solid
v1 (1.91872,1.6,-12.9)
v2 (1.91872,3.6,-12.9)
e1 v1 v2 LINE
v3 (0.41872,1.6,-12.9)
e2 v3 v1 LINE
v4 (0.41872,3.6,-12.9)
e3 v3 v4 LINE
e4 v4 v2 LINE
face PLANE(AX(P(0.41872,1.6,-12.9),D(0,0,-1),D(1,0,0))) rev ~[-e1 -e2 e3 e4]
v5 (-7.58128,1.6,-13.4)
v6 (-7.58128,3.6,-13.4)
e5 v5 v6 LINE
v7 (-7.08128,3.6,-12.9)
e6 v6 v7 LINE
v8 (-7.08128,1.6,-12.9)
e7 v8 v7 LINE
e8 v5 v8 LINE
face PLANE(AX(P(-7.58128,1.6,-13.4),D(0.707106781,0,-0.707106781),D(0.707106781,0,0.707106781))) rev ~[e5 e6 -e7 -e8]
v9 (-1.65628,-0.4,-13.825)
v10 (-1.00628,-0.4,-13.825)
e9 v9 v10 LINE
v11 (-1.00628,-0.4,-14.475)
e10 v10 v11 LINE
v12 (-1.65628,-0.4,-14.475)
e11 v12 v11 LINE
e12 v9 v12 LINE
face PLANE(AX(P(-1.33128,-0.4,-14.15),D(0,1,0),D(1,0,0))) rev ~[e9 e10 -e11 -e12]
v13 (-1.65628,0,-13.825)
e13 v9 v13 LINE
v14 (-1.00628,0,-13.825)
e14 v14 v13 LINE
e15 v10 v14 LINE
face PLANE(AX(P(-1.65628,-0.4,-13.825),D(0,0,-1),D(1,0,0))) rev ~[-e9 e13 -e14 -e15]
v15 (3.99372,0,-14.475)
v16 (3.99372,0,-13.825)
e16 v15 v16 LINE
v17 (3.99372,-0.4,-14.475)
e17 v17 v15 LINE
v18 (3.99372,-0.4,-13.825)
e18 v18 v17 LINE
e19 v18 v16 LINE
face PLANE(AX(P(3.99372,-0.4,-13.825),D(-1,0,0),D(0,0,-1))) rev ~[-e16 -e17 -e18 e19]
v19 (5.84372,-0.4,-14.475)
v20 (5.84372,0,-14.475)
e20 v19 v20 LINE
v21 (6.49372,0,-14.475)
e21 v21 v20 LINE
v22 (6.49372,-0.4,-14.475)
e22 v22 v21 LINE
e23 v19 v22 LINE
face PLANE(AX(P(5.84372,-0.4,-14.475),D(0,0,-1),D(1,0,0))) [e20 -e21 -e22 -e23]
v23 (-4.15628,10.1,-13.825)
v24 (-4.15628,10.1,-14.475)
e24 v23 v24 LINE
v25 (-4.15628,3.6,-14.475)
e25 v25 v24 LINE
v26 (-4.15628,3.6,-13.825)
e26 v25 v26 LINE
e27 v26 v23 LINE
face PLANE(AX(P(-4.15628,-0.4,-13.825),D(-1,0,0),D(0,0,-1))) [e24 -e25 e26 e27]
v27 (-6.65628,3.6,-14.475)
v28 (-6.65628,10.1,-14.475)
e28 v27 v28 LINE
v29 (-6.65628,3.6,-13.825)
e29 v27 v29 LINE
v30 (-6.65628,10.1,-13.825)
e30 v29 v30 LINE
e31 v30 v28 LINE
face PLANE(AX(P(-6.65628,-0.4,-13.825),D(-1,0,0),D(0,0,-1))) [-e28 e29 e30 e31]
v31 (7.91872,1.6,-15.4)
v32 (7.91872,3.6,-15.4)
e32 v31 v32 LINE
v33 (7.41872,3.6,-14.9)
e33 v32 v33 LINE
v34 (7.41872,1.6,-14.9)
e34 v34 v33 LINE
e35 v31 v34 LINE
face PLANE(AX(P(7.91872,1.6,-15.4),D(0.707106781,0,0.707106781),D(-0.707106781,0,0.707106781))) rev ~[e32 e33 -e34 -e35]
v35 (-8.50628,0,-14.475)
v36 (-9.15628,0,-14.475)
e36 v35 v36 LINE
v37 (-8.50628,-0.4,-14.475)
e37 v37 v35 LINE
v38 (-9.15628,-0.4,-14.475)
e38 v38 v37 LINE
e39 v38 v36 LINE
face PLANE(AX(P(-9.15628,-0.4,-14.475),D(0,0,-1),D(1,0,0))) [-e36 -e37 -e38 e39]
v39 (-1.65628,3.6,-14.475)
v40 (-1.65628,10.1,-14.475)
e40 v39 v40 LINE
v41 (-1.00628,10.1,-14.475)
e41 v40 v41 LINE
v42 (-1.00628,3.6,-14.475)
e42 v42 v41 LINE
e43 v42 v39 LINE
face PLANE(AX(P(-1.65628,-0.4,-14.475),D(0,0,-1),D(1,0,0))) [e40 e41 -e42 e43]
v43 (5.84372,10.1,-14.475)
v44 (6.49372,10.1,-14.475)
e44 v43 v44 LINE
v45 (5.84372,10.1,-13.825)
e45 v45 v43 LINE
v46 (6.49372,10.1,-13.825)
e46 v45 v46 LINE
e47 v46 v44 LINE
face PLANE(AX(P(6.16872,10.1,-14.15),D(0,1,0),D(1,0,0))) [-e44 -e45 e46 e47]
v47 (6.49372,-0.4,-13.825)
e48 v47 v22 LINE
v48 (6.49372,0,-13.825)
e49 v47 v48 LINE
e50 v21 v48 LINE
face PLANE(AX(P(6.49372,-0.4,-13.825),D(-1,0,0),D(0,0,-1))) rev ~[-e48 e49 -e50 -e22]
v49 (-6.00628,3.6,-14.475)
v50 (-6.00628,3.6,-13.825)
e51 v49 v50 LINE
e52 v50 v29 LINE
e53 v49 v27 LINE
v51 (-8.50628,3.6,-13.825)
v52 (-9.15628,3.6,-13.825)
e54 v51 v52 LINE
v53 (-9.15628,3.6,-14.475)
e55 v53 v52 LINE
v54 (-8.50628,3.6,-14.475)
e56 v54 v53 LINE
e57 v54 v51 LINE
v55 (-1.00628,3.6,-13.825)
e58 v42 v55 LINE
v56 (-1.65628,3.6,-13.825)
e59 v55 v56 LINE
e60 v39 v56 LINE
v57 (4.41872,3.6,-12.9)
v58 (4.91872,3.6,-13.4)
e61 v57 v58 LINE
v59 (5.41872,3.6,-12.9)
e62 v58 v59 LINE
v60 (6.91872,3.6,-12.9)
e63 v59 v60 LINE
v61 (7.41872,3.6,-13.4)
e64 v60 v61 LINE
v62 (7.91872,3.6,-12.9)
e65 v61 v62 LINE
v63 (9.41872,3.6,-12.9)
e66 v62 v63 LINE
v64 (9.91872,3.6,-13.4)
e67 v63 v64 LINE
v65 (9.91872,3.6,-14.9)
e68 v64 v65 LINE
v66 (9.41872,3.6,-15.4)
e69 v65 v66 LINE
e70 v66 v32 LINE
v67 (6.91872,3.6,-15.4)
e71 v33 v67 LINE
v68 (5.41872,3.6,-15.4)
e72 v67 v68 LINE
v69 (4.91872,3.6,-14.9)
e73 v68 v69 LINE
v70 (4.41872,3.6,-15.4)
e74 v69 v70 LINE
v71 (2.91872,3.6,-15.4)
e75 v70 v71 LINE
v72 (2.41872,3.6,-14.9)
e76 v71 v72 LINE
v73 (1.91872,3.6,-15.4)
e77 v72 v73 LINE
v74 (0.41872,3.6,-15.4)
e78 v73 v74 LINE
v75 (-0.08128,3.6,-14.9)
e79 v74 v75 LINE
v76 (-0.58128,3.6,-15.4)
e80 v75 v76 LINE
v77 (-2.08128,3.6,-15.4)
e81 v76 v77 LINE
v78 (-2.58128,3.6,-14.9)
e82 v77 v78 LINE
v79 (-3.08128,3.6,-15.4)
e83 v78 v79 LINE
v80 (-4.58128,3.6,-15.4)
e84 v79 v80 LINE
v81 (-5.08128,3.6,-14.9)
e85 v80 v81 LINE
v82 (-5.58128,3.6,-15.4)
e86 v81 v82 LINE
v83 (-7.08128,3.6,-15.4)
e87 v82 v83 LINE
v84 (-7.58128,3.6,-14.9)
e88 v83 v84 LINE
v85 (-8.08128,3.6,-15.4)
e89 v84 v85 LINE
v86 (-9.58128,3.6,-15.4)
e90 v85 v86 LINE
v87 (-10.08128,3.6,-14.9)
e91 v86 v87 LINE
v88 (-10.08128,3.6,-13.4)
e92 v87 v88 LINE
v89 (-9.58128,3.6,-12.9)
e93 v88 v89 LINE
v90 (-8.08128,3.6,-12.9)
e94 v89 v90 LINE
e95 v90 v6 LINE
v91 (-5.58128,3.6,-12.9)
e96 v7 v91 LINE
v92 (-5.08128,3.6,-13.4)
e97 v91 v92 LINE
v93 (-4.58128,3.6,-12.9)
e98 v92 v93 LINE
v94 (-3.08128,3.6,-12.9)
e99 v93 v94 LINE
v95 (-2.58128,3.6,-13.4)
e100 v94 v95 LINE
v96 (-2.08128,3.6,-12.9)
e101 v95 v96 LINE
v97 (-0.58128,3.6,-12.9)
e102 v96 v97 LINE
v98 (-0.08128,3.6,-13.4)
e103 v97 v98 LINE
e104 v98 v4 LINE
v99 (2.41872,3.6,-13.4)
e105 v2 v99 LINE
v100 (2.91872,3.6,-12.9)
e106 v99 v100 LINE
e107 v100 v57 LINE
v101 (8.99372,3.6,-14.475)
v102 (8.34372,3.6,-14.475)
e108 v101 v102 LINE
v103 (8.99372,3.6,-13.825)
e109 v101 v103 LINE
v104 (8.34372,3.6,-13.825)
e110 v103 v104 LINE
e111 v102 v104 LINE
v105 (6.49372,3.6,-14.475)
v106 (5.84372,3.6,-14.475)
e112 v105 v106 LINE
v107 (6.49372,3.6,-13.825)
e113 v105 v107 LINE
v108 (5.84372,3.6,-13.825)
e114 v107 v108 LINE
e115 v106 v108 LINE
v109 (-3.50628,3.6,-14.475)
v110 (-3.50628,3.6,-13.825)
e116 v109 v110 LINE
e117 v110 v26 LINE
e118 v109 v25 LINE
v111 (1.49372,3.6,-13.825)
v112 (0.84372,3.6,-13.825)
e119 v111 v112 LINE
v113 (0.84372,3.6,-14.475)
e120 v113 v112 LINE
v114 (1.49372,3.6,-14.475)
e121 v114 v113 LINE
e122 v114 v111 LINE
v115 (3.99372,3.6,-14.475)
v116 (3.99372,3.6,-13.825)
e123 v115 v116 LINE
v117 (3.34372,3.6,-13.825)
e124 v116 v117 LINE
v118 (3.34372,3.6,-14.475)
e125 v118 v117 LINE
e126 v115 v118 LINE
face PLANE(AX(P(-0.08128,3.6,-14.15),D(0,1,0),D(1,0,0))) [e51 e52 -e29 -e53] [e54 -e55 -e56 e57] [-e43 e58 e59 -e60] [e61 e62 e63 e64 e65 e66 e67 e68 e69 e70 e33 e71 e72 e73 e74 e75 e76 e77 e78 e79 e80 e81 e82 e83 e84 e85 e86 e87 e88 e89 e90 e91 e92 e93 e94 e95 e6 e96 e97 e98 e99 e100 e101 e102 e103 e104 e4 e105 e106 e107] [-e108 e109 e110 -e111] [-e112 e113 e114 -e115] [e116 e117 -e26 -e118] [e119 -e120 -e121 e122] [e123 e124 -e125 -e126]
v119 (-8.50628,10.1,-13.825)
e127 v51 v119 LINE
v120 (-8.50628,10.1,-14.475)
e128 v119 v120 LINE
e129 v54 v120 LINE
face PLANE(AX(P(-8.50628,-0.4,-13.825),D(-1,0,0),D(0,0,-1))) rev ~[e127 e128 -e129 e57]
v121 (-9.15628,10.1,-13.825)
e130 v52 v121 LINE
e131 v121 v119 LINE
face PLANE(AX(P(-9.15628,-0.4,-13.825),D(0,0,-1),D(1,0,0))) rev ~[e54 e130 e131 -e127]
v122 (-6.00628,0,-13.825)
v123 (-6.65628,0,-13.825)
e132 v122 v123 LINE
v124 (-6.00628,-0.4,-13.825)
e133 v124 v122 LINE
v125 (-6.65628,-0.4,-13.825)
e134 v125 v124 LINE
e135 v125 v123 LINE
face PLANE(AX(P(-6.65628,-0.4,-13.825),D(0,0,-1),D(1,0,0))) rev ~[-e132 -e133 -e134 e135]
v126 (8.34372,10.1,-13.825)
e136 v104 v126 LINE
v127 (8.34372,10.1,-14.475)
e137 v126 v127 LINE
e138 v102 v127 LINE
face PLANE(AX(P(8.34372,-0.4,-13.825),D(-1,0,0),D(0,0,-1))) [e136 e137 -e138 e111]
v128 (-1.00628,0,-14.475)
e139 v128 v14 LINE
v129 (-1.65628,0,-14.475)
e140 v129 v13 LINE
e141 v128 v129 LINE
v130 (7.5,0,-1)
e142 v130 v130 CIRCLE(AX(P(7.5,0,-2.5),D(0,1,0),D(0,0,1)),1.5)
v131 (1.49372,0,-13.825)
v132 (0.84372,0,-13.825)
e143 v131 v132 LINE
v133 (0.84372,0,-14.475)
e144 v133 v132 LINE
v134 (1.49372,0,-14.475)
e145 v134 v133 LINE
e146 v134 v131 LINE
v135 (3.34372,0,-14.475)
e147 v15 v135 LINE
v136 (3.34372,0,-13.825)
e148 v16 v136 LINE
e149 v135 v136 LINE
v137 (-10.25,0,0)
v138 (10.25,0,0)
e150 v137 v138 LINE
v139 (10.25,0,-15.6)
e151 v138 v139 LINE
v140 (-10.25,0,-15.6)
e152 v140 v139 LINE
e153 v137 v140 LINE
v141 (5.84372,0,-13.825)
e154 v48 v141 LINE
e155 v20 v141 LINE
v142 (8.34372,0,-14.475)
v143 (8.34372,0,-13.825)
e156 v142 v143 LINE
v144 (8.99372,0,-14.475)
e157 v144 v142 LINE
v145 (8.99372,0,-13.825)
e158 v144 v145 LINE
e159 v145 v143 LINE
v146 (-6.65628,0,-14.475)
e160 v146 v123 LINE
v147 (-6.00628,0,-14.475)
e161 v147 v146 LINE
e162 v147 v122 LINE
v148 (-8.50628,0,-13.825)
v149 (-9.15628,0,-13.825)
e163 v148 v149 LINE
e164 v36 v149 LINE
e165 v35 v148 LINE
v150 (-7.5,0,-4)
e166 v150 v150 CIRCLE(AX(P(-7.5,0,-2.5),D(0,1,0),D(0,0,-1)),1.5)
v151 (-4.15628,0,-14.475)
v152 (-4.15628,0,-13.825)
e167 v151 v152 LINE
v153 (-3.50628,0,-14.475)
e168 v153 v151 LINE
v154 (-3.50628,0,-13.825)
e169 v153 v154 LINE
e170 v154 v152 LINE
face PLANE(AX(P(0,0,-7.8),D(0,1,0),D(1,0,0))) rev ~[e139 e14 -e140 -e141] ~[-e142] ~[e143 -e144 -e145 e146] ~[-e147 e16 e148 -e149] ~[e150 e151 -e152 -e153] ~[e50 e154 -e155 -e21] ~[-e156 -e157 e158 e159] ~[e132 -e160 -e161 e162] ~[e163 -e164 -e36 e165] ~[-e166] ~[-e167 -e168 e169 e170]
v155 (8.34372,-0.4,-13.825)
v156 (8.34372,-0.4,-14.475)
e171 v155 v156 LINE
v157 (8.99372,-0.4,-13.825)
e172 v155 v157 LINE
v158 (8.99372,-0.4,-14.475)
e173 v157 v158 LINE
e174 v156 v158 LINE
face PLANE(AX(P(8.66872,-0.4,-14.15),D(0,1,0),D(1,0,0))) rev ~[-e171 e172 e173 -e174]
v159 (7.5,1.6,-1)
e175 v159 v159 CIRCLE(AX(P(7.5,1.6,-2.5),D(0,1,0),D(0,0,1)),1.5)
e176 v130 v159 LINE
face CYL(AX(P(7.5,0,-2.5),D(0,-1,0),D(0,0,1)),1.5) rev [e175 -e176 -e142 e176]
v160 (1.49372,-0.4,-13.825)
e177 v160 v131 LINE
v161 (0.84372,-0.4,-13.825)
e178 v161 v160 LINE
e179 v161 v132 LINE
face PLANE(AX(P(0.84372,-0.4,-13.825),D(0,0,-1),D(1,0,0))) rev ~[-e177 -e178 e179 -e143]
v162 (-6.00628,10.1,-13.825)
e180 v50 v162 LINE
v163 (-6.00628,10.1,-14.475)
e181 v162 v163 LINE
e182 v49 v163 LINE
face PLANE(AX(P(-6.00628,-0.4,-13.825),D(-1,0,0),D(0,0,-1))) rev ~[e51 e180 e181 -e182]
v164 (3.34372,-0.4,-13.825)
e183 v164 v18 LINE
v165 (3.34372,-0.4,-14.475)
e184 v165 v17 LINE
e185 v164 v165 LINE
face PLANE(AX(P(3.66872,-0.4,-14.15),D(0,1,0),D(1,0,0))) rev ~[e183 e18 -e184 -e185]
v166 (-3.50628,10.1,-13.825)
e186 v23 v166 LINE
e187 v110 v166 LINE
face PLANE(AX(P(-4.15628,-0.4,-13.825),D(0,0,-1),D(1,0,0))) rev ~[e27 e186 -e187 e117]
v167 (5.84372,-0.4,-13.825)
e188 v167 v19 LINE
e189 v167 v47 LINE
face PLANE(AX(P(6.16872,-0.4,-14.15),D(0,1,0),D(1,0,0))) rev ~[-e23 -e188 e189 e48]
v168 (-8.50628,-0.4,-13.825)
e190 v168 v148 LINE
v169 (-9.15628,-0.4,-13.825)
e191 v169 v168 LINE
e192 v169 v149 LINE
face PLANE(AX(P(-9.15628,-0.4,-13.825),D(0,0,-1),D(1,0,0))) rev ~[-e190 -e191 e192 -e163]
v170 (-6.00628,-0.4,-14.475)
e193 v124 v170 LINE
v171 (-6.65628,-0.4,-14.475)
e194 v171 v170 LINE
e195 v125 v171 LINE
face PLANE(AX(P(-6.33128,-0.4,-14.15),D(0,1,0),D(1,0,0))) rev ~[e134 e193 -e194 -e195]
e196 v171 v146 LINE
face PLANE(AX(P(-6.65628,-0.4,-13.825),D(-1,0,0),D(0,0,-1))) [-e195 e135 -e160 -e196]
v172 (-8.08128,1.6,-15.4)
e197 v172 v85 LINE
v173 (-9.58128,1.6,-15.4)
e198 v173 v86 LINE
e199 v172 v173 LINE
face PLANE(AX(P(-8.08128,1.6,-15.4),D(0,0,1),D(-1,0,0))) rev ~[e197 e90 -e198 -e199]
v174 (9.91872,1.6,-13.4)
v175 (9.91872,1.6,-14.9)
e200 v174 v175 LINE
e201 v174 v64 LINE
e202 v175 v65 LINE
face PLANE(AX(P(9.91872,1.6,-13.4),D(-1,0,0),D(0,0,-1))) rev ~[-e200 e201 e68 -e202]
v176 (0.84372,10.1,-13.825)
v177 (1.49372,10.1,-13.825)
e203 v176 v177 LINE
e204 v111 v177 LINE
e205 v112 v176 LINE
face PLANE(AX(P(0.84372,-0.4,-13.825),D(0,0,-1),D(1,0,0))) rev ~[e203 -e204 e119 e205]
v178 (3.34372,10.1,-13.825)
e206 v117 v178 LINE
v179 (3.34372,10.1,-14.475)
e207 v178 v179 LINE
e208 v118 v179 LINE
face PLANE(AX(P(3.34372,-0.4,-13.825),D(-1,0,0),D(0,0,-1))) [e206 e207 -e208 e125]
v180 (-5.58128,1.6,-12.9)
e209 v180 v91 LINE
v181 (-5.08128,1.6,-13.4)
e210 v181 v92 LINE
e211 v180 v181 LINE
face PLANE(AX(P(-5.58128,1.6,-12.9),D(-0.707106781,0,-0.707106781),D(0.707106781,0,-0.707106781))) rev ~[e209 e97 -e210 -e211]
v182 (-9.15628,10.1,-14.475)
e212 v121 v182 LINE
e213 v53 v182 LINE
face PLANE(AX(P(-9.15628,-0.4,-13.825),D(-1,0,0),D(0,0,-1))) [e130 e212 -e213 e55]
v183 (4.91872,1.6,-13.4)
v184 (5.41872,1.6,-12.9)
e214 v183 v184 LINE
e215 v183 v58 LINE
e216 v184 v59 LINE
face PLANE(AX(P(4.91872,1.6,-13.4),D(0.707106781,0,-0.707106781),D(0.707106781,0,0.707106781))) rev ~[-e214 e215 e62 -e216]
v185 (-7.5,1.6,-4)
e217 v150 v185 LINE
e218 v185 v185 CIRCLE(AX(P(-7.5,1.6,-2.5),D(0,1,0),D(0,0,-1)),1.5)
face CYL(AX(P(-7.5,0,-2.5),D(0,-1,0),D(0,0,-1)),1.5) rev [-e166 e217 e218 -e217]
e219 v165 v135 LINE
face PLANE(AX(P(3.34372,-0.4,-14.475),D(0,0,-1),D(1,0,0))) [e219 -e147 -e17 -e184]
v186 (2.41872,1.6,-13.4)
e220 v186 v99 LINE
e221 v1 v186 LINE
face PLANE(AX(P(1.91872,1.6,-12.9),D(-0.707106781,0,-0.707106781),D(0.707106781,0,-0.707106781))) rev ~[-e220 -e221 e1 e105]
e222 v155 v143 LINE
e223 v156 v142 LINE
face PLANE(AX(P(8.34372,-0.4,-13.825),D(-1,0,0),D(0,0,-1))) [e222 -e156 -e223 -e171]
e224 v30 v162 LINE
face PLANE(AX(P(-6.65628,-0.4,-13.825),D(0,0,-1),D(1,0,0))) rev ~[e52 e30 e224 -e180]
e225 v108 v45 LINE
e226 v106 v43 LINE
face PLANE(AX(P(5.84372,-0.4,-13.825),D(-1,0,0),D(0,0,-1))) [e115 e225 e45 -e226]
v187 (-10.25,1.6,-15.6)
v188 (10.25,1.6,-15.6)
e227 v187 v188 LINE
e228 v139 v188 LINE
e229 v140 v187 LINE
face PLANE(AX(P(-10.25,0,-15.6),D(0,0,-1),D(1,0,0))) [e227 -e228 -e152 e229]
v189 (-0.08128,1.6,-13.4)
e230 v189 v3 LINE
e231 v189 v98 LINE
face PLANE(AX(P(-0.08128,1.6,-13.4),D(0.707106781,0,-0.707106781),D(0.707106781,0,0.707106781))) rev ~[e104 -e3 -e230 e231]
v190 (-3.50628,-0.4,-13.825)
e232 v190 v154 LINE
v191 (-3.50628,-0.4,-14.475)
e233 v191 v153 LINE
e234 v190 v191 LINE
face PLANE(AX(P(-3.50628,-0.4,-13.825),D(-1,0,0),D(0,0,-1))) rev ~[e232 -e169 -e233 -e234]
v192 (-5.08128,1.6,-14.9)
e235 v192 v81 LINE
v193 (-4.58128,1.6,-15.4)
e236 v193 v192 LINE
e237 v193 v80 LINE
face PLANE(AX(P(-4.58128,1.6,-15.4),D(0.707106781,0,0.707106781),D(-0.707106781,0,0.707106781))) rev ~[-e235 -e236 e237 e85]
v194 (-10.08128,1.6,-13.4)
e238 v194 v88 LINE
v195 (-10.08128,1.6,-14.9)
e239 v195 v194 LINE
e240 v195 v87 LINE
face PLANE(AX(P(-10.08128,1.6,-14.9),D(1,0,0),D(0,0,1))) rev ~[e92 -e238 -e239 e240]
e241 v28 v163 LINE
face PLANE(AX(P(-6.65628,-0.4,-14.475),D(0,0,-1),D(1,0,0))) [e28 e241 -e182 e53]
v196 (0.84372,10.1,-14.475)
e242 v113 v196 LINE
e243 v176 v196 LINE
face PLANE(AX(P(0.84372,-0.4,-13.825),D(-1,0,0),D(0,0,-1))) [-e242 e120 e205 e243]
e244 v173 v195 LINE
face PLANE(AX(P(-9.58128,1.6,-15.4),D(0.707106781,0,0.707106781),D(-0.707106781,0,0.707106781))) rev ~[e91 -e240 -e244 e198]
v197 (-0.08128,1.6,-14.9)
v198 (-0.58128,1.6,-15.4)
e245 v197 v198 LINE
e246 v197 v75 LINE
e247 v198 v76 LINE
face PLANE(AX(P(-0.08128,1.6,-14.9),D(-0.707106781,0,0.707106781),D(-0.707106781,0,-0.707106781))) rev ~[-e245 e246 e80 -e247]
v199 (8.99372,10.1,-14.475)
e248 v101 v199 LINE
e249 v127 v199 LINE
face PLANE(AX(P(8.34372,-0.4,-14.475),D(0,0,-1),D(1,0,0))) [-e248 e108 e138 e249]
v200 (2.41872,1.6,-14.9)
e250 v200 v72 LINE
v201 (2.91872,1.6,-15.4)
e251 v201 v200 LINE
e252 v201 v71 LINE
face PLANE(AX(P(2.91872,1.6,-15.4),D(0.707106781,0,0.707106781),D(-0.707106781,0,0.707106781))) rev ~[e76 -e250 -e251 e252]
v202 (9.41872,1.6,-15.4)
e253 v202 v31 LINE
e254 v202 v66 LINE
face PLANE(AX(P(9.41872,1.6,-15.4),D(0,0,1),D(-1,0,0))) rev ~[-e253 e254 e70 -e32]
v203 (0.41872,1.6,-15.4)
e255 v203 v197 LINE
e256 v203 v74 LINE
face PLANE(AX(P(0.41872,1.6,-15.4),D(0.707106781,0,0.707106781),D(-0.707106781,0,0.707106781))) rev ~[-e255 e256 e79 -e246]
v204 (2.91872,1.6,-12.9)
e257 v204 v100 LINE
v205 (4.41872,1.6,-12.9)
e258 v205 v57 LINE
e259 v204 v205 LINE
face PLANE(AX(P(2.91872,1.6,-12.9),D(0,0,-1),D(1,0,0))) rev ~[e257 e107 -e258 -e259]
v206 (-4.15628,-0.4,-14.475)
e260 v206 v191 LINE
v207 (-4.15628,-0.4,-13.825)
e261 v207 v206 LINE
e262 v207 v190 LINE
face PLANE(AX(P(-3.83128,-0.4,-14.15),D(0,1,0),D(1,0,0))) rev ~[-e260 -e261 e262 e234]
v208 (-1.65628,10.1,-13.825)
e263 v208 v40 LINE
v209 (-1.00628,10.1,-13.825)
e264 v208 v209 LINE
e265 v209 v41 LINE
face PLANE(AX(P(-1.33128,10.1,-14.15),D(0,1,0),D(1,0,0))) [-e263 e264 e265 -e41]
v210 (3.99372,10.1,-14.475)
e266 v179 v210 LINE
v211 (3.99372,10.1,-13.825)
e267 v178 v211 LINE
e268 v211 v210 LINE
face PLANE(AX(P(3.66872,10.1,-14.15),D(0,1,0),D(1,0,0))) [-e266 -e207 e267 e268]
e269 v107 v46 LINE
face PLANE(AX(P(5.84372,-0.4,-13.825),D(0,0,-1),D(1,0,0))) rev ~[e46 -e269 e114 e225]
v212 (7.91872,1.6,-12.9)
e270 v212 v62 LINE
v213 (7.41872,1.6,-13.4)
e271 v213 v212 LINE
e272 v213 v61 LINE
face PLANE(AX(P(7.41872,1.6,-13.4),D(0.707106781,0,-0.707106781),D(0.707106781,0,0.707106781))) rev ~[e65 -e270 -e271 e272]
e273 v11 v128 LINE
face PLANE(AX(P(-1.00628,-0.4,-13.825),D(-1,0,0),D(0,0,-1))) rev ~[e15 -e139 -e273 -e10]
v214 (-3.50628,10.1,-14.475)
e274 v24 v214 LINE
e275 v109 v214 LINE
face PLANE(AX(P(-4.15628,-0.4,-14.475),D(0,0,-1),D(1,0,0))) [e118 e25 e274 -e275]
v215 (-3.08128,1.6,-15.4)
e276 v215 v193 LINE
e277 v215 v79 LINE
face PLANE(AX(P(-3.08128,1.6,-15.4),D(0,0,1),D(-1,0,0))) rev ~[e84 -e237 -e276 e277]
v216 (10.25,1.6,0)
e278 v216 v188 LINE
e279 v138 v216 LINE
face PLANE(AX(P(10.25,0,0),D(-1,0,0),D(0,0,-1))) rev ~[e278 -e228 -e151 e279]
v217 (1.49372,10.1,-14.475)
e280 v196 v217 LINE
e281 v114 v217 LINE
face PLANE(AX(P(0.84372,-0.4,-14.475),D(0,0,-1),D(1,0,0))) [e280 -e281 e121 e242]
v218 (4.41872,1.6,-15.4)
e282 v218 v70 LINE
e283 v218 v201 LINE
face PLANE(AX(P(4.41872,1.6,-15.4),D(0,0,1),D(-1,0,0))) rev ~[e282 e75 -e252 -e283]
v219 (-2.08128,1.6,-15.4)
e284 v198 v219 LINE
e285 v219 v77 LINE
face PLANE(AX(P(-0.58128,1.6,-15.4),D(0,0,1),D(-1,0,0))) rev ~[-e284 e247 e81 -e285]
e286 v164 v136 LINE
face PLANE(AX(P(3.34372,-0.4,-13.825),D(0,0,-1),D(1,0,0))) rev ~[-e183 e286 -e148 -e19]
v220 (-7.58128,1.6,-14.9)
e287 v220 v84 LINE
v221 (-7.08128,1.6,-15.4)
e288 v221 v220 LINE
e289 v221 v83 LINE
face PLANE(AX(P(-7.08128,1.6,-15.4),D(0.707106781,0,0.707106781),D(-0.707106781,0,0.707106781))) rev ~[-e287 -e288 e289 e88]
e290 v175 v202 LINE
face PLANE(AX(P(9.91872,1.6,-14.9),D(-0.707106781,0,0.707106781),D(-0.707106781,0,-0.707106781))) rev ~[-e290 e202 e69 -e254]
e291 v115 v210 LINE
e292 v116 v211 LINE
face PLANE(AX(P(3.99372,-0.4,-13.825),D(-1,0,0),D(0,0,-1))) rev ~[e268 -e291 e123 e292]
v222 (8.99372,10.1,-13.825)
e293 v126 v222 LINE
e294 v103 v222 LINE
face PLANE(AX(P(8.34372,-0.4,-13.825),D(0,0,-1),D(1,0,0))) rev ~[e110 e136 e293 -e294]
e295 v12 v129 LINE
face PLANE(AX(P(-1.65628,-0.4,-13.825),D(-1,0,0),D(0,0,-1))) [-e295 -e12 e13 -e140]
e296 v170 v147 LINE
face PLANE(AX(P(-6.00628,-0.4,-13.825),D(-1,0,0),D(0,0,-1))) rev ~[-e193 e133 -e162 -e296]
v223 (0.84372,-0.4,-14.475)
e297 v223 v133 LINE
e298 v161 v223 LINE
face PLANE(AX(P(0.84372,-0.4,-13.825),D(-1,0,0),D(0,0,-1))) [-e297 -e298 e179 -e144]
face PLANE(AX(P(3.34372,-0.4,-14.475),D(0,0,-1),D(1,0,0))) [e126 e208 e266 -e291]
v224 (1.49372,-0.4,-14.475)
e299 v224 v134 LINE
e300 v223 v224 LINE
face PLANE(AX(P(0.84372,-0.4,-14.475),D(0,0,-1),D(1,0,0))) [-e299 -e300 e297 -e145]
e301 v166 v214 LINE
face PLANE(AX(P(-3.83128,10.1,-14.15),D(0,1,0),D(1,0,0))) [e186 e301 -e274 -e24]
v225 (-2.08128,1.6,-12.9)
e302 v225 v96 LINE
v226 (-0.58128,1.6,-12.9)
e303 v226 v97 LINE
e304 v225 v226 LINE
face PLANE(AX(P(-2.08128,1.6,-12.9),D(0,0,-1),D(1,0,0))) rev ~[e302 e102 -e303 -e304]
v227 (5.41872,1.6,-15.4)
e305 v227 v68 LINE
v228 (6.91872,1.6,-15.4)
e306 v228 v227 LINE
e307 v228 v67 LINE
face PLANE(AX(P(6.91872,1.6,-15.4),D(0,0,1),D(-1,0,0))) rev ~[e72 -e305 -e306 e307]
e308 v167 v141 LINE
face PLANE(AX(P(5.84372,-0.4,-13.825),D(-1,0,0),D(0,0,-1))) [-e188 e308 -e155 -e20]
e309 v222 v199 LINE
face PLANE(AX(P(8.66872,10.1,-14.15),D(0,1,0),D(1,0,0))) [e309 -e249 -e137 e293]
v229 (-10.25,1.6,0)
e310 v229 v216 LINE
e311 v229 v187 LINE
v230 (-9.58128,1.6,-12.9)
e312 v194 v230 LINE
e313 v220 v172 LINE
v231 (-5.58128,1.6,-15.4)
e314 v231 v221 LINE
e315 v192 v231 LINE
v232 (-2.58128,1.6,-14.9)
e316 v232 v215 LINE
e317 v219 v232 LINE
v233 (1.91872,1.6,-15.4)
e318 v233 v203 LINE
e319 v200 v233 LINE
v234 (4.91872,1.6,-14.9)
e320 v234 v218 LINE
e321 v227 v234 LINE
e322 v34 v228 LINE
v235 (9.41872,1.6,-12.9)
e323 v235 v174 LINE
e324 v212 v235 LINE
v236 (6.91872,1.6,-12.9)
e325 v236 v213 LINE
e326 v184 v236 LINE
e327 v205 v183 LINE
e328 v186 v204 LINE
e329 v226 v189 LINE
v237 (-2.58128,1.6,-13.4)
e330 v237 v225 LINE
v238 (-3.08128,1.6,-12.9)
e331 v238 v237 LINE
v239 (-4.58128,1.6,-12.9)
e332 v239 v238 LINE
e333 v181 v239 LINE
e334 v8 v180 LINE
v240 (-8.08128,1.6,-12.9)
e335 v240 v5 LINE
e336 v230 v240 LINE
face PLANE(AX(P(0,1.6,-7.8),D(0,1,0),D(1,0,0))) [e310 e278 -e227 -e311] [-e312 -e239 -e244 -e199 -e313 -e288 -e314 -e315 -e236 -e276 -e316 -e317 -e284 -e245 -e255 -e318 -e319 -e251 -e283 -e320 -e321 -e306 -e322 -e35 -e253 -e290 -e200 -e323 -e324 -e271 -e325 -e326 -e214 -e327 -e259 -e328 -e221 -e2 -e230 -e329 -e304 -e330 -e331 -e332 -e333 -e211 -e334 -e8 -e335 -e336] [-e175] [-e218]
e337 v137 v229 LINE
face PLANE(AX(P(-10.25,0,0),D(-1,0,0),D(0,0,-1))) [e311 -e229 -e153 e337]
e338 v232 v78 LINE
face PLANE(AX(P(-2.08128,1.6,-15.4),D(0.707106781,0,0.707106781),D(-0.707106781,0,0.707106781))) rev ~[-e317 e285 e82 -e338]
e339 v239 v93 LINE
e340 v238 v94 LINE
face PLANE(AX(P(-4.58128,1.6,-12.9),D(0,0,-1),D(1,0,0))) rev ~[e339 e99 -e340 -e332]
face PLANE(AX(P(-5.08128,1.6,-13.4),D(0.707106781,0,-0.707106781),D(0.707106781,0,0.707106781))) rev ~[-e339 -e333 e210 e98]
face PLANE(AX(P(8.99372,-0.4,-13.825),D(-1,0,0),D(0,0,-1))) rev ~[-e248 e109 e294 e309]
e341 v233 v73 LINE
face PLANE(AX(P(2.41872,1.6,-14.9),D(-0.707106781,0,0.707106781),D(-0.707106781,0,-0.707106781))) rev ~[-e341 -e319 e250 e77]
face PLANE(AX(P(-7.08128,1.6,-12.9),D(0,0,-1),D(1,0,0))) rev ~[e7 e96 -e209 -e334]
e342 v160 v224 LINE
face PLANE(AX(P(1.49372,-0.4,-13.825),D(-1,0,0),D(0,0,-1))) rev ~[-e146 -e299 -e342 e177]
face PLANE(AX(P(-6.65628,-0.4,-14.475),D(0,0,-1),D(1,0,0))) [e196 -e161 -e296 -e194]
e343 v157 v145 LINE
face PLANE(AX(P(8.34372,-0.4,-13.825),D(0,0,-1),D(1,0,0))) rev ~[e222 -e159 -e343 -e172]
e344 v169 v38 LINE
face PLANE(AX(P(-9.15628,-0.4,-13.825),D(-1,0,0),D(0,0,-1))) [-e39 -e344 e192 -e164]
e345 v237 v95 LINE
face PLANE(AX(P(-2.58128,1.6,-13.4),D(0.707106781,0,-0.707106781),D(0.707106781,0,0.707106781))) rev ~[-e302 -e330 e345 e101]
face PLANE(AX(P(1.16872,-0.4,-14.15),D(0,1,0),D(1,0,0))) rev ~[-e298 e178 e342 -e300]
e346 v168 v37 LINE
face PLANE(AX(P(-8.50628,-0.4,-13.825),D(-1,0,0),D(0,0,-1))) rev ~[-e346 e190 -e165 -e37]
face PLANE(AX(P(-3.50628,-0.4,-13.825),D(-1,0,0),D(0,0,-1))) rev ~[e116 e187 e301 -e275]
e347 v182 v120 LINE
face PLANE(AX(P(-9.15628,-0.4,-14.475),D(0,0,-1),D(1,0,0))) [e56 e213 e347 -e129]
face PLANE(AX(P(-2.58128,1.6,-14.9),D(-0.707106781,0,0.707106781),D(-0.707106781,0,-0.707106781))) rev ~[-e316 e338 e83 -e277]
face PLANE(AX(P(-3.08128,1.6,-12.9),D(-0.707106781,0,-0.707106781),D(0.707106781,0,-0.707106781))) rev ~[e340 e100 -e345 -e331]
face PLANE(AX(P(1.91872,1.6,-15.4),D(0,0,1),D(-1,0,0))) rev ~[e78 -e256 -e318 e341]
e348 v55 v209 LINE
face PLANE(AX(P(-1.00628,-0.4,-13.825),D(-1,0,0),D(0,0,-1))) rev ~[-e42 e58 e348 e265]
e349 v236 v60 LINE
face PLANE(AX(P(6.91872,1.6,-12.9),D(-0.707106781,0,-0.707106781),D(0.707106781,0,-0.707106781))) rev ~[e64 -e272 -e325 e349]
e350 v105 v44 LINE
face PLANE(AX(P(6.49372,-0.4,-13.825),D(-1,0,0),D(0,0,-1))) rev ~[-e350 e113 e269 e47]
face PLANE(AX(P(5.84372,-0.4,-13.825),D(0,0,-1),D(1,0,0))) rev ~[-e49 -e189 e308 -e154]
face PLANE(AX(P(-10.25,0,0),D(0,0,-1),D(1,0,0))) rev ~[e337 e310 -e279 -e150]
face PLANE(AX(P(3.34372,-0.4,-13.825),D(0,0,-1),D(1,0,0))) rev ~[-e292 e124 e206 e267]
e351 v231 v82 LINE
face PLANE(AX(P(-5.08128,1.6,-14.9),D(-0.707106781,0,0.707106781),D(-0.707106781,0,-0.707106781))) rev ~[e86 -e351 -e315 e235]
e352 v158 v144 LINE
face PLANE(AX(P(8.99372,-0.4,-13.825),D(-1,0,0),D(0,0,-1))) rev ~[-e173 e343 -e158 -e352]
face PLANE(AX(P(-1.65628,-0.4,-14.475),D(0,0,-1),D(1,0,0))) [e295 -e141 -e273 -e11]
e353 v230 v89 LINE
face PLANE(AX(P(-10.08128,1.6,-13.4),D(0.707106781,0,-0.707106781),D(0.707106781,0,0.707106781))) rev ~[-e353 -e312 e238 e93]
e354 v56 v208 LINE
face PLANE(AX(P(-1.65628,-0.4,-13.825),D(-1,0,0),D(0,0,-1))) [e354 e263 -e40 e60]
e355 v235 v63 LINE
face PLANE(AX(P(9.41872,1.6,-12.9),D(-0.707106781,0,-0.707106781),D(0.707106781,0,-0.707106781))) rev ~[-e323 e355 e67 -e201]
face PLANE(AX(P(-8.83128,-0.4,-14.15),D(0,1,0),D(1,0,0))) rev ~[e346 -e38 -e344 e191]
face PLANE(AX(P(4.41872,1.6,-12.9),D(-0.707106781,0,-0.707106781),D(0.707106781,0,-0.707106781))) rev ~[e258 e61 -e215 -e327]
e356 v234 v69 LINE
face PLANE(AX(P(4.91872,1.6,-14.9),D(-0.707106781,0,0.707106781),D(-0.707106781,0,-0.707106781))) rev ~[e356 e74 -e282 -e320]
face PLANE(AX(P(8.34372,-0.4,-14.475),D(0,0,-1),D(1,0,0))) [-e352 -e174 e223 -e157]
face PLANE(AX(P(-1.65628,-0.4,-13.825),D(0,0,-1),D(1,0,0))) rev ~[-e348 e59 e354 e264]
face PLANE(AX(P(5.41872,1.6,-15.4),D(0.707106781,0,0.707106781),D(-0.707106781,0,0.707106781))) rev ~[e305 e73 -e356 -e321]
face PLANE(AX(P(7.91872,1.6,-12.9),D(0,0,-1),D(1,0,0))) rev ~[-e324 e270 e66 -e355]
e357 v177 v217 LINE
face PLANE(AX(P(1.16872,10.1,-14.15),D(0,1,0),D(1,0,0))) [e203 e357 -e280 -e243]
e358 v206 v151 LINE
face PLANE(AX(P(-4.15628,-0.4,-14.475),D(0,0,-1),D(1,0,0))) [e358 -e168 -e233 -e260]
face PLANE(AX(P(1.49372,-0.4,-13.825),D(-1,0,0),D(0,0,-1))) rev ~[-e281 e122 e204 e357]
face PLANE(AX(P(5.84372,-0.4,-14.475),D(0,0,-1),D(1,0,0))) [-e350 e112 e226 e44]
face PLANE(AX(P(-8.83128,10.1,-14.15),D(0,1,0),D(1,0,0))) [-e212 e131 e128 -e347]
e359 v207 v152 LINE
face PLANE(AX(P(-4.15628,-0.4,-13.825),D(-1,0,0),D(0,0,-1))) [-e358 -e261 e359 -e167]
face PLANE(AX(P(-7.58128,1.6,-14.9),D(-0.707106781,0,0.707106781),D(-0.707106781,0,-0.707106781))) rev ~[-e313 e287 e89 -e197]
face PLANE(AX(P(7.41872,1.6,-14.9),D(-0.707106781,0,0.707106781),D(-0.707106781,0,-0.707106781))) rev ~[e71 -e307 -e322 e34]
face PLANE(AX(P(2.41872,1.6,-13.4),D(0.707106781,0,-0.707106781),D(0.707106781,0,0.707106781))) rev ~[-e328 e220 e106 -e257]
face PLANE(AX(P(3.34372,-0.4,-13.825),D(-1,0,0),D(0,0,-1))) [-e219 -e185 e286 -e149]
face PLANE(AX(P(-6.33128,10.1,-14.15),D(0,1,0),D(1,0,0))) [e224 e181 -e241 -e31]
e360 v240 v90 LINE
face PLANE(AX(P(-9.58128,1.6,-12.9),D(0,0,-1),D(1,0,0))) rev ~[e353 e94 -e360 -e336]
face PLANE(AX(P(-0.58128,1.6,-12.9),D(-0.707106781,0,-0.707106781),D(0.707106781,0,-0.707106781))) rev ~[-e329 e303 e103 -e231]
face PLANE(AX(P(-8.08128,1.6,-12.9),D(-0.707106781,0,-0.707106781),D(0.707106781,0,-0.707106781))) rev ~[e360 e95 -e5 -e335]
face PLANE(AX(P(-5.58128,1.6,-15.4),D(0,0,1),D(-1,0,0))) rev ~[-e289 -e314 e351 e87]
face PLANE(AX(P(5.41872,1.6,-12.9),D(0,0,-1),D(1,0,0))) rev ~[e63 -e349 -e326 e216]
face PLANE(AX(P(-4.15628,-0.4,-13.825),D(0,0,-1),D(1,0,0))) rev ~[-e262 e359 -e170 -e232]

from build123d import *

# Parameters (mm, degrees)
SKETCH1_W           = 20.5
SKETCH1_H           = 15.6
SKETCH1_R           = 1.5
BOSS_EXTRUDE1_DEPTH = 1.6
BOSS_EXTRUDE2_DEPTH = 2
BOSS_EXTRUDE3_START = -4
SKETCH3_W           = 0.65
SKETCH3_H           = 0.65
BOSS_EXTRUDE3_DEPTH = 10.5
LPATTERN1_COUNT     = 8
LPATTERN1_PITCH     = 2.5


with BuildPart() as part:
    # Sketch1 → Boss-Extrude1 (new body)
    with BuildSketch(Plane(origin=(0, 0, 0), x_dir=(1, 0, 0), z_dir=(0, 1, 0))):
        with Locations((0, 7.8)):
            Rectangle(SKETCH1_W, SKETCH1_H)
        with Locations(Location((7.5, 2.5, 0), (0, 0, 270))):
            Circle(SKETCH1_R, mode=Mode.SUBTRACT)
        with Locations(Location((-7.5, 2.5, 0), (0, 0, 90))):
            Circle(SKETCH1_R, mode=Mode.SUBTRACT)
    extrude(amount=BOSS_EXTRUDE1_DEPTH)

    # Sketch2 → Boss-Extrude2 (add)
    with BuildSketch(Plane(origin=(0, 1.6, 0), x_dir=(1, 0, 0), z_dir=(0, 1, 0))):
        Polygon((7.918720213, 15.4), (7.418720213, 14.9), (6.918720213, 15.4), (5.418720213, 15.4), (4.918720213, 14.9), (4.418720213, 15.4), (2.918720213, 15.4), (2.418720213, 14.9), (1.918720213, 15.4), (0.418720213, 15.4), (-0.081279787, 14.9), (-0.581279787, 15.4), (-2.081279787, 15.4), (-2.581279787, 14.9), (-3.081279787, 15.4), (-4.581279787, 15.4), (-5.081279787, 14.9), (-5.581279787, 15.4), (-7.081279787, 15.4), (-7.581279787, 14.9), (-8.081279787, 15.4), (-9.581279787, 15.4), (-10.081279787, 14.9), (-10.081279787, 13.4), (-9.581279787, 12.9), (-8.081279787, 12.9), (-7.581279787, 13.4), (-7.081279787, 12.9), (-5.581279787, 12.9), (-5.081279787, 13.4), (-4.581279787, 12.9), (-3.081279787, 12.9), (-2.581279787, 13.4), (-2.081279787, 12.9), (-0.581279787, 12.9), (-0.081279787, 13.4), (0.418720213, 12.9), (1.918720213, 12.9), (2.418720213, 13.4), (2.918720213, 12.9), (4.418720213, 12.9), (4.918720213, 13.4), (5.418720213, 12.9), (6.918720213, 12.9), (7.418720213, 13.4), (7.918720213, 12.9), (9.418720213, 12.9), (9.918720213, 13.4), (9.918720213, 14.9), (9.418720213, 15.4), align=None)
    extrude(amount=BOSS_EXTRUDE2_DEPTH)

    # Sketch3 → Boss-Extrude3 (add)
    with BuildSketch(Plane(origin=(0, 3.6, 0), x_dir=(1, 0, 0), z_dir=(0, 1, 0)).offset(BOSS_EXTRUDE3_START)):
        with Locations((8.668720213, 14.15)):
            Rectangle(SKETCH3_W, SKETCH3_H)
    boss_extrude3 = extrude(amount=BOSS_EXTRUDE3_DEPTH)

    # LPattern1: Boss-Extrude3 ×8
    with Locations(*[(-i * LPATTERN1_PITCH, 0, 0) for i in range(1, LPATTERN1_COUNT)]):
        add(boss_extrude3)


solid = part.part
